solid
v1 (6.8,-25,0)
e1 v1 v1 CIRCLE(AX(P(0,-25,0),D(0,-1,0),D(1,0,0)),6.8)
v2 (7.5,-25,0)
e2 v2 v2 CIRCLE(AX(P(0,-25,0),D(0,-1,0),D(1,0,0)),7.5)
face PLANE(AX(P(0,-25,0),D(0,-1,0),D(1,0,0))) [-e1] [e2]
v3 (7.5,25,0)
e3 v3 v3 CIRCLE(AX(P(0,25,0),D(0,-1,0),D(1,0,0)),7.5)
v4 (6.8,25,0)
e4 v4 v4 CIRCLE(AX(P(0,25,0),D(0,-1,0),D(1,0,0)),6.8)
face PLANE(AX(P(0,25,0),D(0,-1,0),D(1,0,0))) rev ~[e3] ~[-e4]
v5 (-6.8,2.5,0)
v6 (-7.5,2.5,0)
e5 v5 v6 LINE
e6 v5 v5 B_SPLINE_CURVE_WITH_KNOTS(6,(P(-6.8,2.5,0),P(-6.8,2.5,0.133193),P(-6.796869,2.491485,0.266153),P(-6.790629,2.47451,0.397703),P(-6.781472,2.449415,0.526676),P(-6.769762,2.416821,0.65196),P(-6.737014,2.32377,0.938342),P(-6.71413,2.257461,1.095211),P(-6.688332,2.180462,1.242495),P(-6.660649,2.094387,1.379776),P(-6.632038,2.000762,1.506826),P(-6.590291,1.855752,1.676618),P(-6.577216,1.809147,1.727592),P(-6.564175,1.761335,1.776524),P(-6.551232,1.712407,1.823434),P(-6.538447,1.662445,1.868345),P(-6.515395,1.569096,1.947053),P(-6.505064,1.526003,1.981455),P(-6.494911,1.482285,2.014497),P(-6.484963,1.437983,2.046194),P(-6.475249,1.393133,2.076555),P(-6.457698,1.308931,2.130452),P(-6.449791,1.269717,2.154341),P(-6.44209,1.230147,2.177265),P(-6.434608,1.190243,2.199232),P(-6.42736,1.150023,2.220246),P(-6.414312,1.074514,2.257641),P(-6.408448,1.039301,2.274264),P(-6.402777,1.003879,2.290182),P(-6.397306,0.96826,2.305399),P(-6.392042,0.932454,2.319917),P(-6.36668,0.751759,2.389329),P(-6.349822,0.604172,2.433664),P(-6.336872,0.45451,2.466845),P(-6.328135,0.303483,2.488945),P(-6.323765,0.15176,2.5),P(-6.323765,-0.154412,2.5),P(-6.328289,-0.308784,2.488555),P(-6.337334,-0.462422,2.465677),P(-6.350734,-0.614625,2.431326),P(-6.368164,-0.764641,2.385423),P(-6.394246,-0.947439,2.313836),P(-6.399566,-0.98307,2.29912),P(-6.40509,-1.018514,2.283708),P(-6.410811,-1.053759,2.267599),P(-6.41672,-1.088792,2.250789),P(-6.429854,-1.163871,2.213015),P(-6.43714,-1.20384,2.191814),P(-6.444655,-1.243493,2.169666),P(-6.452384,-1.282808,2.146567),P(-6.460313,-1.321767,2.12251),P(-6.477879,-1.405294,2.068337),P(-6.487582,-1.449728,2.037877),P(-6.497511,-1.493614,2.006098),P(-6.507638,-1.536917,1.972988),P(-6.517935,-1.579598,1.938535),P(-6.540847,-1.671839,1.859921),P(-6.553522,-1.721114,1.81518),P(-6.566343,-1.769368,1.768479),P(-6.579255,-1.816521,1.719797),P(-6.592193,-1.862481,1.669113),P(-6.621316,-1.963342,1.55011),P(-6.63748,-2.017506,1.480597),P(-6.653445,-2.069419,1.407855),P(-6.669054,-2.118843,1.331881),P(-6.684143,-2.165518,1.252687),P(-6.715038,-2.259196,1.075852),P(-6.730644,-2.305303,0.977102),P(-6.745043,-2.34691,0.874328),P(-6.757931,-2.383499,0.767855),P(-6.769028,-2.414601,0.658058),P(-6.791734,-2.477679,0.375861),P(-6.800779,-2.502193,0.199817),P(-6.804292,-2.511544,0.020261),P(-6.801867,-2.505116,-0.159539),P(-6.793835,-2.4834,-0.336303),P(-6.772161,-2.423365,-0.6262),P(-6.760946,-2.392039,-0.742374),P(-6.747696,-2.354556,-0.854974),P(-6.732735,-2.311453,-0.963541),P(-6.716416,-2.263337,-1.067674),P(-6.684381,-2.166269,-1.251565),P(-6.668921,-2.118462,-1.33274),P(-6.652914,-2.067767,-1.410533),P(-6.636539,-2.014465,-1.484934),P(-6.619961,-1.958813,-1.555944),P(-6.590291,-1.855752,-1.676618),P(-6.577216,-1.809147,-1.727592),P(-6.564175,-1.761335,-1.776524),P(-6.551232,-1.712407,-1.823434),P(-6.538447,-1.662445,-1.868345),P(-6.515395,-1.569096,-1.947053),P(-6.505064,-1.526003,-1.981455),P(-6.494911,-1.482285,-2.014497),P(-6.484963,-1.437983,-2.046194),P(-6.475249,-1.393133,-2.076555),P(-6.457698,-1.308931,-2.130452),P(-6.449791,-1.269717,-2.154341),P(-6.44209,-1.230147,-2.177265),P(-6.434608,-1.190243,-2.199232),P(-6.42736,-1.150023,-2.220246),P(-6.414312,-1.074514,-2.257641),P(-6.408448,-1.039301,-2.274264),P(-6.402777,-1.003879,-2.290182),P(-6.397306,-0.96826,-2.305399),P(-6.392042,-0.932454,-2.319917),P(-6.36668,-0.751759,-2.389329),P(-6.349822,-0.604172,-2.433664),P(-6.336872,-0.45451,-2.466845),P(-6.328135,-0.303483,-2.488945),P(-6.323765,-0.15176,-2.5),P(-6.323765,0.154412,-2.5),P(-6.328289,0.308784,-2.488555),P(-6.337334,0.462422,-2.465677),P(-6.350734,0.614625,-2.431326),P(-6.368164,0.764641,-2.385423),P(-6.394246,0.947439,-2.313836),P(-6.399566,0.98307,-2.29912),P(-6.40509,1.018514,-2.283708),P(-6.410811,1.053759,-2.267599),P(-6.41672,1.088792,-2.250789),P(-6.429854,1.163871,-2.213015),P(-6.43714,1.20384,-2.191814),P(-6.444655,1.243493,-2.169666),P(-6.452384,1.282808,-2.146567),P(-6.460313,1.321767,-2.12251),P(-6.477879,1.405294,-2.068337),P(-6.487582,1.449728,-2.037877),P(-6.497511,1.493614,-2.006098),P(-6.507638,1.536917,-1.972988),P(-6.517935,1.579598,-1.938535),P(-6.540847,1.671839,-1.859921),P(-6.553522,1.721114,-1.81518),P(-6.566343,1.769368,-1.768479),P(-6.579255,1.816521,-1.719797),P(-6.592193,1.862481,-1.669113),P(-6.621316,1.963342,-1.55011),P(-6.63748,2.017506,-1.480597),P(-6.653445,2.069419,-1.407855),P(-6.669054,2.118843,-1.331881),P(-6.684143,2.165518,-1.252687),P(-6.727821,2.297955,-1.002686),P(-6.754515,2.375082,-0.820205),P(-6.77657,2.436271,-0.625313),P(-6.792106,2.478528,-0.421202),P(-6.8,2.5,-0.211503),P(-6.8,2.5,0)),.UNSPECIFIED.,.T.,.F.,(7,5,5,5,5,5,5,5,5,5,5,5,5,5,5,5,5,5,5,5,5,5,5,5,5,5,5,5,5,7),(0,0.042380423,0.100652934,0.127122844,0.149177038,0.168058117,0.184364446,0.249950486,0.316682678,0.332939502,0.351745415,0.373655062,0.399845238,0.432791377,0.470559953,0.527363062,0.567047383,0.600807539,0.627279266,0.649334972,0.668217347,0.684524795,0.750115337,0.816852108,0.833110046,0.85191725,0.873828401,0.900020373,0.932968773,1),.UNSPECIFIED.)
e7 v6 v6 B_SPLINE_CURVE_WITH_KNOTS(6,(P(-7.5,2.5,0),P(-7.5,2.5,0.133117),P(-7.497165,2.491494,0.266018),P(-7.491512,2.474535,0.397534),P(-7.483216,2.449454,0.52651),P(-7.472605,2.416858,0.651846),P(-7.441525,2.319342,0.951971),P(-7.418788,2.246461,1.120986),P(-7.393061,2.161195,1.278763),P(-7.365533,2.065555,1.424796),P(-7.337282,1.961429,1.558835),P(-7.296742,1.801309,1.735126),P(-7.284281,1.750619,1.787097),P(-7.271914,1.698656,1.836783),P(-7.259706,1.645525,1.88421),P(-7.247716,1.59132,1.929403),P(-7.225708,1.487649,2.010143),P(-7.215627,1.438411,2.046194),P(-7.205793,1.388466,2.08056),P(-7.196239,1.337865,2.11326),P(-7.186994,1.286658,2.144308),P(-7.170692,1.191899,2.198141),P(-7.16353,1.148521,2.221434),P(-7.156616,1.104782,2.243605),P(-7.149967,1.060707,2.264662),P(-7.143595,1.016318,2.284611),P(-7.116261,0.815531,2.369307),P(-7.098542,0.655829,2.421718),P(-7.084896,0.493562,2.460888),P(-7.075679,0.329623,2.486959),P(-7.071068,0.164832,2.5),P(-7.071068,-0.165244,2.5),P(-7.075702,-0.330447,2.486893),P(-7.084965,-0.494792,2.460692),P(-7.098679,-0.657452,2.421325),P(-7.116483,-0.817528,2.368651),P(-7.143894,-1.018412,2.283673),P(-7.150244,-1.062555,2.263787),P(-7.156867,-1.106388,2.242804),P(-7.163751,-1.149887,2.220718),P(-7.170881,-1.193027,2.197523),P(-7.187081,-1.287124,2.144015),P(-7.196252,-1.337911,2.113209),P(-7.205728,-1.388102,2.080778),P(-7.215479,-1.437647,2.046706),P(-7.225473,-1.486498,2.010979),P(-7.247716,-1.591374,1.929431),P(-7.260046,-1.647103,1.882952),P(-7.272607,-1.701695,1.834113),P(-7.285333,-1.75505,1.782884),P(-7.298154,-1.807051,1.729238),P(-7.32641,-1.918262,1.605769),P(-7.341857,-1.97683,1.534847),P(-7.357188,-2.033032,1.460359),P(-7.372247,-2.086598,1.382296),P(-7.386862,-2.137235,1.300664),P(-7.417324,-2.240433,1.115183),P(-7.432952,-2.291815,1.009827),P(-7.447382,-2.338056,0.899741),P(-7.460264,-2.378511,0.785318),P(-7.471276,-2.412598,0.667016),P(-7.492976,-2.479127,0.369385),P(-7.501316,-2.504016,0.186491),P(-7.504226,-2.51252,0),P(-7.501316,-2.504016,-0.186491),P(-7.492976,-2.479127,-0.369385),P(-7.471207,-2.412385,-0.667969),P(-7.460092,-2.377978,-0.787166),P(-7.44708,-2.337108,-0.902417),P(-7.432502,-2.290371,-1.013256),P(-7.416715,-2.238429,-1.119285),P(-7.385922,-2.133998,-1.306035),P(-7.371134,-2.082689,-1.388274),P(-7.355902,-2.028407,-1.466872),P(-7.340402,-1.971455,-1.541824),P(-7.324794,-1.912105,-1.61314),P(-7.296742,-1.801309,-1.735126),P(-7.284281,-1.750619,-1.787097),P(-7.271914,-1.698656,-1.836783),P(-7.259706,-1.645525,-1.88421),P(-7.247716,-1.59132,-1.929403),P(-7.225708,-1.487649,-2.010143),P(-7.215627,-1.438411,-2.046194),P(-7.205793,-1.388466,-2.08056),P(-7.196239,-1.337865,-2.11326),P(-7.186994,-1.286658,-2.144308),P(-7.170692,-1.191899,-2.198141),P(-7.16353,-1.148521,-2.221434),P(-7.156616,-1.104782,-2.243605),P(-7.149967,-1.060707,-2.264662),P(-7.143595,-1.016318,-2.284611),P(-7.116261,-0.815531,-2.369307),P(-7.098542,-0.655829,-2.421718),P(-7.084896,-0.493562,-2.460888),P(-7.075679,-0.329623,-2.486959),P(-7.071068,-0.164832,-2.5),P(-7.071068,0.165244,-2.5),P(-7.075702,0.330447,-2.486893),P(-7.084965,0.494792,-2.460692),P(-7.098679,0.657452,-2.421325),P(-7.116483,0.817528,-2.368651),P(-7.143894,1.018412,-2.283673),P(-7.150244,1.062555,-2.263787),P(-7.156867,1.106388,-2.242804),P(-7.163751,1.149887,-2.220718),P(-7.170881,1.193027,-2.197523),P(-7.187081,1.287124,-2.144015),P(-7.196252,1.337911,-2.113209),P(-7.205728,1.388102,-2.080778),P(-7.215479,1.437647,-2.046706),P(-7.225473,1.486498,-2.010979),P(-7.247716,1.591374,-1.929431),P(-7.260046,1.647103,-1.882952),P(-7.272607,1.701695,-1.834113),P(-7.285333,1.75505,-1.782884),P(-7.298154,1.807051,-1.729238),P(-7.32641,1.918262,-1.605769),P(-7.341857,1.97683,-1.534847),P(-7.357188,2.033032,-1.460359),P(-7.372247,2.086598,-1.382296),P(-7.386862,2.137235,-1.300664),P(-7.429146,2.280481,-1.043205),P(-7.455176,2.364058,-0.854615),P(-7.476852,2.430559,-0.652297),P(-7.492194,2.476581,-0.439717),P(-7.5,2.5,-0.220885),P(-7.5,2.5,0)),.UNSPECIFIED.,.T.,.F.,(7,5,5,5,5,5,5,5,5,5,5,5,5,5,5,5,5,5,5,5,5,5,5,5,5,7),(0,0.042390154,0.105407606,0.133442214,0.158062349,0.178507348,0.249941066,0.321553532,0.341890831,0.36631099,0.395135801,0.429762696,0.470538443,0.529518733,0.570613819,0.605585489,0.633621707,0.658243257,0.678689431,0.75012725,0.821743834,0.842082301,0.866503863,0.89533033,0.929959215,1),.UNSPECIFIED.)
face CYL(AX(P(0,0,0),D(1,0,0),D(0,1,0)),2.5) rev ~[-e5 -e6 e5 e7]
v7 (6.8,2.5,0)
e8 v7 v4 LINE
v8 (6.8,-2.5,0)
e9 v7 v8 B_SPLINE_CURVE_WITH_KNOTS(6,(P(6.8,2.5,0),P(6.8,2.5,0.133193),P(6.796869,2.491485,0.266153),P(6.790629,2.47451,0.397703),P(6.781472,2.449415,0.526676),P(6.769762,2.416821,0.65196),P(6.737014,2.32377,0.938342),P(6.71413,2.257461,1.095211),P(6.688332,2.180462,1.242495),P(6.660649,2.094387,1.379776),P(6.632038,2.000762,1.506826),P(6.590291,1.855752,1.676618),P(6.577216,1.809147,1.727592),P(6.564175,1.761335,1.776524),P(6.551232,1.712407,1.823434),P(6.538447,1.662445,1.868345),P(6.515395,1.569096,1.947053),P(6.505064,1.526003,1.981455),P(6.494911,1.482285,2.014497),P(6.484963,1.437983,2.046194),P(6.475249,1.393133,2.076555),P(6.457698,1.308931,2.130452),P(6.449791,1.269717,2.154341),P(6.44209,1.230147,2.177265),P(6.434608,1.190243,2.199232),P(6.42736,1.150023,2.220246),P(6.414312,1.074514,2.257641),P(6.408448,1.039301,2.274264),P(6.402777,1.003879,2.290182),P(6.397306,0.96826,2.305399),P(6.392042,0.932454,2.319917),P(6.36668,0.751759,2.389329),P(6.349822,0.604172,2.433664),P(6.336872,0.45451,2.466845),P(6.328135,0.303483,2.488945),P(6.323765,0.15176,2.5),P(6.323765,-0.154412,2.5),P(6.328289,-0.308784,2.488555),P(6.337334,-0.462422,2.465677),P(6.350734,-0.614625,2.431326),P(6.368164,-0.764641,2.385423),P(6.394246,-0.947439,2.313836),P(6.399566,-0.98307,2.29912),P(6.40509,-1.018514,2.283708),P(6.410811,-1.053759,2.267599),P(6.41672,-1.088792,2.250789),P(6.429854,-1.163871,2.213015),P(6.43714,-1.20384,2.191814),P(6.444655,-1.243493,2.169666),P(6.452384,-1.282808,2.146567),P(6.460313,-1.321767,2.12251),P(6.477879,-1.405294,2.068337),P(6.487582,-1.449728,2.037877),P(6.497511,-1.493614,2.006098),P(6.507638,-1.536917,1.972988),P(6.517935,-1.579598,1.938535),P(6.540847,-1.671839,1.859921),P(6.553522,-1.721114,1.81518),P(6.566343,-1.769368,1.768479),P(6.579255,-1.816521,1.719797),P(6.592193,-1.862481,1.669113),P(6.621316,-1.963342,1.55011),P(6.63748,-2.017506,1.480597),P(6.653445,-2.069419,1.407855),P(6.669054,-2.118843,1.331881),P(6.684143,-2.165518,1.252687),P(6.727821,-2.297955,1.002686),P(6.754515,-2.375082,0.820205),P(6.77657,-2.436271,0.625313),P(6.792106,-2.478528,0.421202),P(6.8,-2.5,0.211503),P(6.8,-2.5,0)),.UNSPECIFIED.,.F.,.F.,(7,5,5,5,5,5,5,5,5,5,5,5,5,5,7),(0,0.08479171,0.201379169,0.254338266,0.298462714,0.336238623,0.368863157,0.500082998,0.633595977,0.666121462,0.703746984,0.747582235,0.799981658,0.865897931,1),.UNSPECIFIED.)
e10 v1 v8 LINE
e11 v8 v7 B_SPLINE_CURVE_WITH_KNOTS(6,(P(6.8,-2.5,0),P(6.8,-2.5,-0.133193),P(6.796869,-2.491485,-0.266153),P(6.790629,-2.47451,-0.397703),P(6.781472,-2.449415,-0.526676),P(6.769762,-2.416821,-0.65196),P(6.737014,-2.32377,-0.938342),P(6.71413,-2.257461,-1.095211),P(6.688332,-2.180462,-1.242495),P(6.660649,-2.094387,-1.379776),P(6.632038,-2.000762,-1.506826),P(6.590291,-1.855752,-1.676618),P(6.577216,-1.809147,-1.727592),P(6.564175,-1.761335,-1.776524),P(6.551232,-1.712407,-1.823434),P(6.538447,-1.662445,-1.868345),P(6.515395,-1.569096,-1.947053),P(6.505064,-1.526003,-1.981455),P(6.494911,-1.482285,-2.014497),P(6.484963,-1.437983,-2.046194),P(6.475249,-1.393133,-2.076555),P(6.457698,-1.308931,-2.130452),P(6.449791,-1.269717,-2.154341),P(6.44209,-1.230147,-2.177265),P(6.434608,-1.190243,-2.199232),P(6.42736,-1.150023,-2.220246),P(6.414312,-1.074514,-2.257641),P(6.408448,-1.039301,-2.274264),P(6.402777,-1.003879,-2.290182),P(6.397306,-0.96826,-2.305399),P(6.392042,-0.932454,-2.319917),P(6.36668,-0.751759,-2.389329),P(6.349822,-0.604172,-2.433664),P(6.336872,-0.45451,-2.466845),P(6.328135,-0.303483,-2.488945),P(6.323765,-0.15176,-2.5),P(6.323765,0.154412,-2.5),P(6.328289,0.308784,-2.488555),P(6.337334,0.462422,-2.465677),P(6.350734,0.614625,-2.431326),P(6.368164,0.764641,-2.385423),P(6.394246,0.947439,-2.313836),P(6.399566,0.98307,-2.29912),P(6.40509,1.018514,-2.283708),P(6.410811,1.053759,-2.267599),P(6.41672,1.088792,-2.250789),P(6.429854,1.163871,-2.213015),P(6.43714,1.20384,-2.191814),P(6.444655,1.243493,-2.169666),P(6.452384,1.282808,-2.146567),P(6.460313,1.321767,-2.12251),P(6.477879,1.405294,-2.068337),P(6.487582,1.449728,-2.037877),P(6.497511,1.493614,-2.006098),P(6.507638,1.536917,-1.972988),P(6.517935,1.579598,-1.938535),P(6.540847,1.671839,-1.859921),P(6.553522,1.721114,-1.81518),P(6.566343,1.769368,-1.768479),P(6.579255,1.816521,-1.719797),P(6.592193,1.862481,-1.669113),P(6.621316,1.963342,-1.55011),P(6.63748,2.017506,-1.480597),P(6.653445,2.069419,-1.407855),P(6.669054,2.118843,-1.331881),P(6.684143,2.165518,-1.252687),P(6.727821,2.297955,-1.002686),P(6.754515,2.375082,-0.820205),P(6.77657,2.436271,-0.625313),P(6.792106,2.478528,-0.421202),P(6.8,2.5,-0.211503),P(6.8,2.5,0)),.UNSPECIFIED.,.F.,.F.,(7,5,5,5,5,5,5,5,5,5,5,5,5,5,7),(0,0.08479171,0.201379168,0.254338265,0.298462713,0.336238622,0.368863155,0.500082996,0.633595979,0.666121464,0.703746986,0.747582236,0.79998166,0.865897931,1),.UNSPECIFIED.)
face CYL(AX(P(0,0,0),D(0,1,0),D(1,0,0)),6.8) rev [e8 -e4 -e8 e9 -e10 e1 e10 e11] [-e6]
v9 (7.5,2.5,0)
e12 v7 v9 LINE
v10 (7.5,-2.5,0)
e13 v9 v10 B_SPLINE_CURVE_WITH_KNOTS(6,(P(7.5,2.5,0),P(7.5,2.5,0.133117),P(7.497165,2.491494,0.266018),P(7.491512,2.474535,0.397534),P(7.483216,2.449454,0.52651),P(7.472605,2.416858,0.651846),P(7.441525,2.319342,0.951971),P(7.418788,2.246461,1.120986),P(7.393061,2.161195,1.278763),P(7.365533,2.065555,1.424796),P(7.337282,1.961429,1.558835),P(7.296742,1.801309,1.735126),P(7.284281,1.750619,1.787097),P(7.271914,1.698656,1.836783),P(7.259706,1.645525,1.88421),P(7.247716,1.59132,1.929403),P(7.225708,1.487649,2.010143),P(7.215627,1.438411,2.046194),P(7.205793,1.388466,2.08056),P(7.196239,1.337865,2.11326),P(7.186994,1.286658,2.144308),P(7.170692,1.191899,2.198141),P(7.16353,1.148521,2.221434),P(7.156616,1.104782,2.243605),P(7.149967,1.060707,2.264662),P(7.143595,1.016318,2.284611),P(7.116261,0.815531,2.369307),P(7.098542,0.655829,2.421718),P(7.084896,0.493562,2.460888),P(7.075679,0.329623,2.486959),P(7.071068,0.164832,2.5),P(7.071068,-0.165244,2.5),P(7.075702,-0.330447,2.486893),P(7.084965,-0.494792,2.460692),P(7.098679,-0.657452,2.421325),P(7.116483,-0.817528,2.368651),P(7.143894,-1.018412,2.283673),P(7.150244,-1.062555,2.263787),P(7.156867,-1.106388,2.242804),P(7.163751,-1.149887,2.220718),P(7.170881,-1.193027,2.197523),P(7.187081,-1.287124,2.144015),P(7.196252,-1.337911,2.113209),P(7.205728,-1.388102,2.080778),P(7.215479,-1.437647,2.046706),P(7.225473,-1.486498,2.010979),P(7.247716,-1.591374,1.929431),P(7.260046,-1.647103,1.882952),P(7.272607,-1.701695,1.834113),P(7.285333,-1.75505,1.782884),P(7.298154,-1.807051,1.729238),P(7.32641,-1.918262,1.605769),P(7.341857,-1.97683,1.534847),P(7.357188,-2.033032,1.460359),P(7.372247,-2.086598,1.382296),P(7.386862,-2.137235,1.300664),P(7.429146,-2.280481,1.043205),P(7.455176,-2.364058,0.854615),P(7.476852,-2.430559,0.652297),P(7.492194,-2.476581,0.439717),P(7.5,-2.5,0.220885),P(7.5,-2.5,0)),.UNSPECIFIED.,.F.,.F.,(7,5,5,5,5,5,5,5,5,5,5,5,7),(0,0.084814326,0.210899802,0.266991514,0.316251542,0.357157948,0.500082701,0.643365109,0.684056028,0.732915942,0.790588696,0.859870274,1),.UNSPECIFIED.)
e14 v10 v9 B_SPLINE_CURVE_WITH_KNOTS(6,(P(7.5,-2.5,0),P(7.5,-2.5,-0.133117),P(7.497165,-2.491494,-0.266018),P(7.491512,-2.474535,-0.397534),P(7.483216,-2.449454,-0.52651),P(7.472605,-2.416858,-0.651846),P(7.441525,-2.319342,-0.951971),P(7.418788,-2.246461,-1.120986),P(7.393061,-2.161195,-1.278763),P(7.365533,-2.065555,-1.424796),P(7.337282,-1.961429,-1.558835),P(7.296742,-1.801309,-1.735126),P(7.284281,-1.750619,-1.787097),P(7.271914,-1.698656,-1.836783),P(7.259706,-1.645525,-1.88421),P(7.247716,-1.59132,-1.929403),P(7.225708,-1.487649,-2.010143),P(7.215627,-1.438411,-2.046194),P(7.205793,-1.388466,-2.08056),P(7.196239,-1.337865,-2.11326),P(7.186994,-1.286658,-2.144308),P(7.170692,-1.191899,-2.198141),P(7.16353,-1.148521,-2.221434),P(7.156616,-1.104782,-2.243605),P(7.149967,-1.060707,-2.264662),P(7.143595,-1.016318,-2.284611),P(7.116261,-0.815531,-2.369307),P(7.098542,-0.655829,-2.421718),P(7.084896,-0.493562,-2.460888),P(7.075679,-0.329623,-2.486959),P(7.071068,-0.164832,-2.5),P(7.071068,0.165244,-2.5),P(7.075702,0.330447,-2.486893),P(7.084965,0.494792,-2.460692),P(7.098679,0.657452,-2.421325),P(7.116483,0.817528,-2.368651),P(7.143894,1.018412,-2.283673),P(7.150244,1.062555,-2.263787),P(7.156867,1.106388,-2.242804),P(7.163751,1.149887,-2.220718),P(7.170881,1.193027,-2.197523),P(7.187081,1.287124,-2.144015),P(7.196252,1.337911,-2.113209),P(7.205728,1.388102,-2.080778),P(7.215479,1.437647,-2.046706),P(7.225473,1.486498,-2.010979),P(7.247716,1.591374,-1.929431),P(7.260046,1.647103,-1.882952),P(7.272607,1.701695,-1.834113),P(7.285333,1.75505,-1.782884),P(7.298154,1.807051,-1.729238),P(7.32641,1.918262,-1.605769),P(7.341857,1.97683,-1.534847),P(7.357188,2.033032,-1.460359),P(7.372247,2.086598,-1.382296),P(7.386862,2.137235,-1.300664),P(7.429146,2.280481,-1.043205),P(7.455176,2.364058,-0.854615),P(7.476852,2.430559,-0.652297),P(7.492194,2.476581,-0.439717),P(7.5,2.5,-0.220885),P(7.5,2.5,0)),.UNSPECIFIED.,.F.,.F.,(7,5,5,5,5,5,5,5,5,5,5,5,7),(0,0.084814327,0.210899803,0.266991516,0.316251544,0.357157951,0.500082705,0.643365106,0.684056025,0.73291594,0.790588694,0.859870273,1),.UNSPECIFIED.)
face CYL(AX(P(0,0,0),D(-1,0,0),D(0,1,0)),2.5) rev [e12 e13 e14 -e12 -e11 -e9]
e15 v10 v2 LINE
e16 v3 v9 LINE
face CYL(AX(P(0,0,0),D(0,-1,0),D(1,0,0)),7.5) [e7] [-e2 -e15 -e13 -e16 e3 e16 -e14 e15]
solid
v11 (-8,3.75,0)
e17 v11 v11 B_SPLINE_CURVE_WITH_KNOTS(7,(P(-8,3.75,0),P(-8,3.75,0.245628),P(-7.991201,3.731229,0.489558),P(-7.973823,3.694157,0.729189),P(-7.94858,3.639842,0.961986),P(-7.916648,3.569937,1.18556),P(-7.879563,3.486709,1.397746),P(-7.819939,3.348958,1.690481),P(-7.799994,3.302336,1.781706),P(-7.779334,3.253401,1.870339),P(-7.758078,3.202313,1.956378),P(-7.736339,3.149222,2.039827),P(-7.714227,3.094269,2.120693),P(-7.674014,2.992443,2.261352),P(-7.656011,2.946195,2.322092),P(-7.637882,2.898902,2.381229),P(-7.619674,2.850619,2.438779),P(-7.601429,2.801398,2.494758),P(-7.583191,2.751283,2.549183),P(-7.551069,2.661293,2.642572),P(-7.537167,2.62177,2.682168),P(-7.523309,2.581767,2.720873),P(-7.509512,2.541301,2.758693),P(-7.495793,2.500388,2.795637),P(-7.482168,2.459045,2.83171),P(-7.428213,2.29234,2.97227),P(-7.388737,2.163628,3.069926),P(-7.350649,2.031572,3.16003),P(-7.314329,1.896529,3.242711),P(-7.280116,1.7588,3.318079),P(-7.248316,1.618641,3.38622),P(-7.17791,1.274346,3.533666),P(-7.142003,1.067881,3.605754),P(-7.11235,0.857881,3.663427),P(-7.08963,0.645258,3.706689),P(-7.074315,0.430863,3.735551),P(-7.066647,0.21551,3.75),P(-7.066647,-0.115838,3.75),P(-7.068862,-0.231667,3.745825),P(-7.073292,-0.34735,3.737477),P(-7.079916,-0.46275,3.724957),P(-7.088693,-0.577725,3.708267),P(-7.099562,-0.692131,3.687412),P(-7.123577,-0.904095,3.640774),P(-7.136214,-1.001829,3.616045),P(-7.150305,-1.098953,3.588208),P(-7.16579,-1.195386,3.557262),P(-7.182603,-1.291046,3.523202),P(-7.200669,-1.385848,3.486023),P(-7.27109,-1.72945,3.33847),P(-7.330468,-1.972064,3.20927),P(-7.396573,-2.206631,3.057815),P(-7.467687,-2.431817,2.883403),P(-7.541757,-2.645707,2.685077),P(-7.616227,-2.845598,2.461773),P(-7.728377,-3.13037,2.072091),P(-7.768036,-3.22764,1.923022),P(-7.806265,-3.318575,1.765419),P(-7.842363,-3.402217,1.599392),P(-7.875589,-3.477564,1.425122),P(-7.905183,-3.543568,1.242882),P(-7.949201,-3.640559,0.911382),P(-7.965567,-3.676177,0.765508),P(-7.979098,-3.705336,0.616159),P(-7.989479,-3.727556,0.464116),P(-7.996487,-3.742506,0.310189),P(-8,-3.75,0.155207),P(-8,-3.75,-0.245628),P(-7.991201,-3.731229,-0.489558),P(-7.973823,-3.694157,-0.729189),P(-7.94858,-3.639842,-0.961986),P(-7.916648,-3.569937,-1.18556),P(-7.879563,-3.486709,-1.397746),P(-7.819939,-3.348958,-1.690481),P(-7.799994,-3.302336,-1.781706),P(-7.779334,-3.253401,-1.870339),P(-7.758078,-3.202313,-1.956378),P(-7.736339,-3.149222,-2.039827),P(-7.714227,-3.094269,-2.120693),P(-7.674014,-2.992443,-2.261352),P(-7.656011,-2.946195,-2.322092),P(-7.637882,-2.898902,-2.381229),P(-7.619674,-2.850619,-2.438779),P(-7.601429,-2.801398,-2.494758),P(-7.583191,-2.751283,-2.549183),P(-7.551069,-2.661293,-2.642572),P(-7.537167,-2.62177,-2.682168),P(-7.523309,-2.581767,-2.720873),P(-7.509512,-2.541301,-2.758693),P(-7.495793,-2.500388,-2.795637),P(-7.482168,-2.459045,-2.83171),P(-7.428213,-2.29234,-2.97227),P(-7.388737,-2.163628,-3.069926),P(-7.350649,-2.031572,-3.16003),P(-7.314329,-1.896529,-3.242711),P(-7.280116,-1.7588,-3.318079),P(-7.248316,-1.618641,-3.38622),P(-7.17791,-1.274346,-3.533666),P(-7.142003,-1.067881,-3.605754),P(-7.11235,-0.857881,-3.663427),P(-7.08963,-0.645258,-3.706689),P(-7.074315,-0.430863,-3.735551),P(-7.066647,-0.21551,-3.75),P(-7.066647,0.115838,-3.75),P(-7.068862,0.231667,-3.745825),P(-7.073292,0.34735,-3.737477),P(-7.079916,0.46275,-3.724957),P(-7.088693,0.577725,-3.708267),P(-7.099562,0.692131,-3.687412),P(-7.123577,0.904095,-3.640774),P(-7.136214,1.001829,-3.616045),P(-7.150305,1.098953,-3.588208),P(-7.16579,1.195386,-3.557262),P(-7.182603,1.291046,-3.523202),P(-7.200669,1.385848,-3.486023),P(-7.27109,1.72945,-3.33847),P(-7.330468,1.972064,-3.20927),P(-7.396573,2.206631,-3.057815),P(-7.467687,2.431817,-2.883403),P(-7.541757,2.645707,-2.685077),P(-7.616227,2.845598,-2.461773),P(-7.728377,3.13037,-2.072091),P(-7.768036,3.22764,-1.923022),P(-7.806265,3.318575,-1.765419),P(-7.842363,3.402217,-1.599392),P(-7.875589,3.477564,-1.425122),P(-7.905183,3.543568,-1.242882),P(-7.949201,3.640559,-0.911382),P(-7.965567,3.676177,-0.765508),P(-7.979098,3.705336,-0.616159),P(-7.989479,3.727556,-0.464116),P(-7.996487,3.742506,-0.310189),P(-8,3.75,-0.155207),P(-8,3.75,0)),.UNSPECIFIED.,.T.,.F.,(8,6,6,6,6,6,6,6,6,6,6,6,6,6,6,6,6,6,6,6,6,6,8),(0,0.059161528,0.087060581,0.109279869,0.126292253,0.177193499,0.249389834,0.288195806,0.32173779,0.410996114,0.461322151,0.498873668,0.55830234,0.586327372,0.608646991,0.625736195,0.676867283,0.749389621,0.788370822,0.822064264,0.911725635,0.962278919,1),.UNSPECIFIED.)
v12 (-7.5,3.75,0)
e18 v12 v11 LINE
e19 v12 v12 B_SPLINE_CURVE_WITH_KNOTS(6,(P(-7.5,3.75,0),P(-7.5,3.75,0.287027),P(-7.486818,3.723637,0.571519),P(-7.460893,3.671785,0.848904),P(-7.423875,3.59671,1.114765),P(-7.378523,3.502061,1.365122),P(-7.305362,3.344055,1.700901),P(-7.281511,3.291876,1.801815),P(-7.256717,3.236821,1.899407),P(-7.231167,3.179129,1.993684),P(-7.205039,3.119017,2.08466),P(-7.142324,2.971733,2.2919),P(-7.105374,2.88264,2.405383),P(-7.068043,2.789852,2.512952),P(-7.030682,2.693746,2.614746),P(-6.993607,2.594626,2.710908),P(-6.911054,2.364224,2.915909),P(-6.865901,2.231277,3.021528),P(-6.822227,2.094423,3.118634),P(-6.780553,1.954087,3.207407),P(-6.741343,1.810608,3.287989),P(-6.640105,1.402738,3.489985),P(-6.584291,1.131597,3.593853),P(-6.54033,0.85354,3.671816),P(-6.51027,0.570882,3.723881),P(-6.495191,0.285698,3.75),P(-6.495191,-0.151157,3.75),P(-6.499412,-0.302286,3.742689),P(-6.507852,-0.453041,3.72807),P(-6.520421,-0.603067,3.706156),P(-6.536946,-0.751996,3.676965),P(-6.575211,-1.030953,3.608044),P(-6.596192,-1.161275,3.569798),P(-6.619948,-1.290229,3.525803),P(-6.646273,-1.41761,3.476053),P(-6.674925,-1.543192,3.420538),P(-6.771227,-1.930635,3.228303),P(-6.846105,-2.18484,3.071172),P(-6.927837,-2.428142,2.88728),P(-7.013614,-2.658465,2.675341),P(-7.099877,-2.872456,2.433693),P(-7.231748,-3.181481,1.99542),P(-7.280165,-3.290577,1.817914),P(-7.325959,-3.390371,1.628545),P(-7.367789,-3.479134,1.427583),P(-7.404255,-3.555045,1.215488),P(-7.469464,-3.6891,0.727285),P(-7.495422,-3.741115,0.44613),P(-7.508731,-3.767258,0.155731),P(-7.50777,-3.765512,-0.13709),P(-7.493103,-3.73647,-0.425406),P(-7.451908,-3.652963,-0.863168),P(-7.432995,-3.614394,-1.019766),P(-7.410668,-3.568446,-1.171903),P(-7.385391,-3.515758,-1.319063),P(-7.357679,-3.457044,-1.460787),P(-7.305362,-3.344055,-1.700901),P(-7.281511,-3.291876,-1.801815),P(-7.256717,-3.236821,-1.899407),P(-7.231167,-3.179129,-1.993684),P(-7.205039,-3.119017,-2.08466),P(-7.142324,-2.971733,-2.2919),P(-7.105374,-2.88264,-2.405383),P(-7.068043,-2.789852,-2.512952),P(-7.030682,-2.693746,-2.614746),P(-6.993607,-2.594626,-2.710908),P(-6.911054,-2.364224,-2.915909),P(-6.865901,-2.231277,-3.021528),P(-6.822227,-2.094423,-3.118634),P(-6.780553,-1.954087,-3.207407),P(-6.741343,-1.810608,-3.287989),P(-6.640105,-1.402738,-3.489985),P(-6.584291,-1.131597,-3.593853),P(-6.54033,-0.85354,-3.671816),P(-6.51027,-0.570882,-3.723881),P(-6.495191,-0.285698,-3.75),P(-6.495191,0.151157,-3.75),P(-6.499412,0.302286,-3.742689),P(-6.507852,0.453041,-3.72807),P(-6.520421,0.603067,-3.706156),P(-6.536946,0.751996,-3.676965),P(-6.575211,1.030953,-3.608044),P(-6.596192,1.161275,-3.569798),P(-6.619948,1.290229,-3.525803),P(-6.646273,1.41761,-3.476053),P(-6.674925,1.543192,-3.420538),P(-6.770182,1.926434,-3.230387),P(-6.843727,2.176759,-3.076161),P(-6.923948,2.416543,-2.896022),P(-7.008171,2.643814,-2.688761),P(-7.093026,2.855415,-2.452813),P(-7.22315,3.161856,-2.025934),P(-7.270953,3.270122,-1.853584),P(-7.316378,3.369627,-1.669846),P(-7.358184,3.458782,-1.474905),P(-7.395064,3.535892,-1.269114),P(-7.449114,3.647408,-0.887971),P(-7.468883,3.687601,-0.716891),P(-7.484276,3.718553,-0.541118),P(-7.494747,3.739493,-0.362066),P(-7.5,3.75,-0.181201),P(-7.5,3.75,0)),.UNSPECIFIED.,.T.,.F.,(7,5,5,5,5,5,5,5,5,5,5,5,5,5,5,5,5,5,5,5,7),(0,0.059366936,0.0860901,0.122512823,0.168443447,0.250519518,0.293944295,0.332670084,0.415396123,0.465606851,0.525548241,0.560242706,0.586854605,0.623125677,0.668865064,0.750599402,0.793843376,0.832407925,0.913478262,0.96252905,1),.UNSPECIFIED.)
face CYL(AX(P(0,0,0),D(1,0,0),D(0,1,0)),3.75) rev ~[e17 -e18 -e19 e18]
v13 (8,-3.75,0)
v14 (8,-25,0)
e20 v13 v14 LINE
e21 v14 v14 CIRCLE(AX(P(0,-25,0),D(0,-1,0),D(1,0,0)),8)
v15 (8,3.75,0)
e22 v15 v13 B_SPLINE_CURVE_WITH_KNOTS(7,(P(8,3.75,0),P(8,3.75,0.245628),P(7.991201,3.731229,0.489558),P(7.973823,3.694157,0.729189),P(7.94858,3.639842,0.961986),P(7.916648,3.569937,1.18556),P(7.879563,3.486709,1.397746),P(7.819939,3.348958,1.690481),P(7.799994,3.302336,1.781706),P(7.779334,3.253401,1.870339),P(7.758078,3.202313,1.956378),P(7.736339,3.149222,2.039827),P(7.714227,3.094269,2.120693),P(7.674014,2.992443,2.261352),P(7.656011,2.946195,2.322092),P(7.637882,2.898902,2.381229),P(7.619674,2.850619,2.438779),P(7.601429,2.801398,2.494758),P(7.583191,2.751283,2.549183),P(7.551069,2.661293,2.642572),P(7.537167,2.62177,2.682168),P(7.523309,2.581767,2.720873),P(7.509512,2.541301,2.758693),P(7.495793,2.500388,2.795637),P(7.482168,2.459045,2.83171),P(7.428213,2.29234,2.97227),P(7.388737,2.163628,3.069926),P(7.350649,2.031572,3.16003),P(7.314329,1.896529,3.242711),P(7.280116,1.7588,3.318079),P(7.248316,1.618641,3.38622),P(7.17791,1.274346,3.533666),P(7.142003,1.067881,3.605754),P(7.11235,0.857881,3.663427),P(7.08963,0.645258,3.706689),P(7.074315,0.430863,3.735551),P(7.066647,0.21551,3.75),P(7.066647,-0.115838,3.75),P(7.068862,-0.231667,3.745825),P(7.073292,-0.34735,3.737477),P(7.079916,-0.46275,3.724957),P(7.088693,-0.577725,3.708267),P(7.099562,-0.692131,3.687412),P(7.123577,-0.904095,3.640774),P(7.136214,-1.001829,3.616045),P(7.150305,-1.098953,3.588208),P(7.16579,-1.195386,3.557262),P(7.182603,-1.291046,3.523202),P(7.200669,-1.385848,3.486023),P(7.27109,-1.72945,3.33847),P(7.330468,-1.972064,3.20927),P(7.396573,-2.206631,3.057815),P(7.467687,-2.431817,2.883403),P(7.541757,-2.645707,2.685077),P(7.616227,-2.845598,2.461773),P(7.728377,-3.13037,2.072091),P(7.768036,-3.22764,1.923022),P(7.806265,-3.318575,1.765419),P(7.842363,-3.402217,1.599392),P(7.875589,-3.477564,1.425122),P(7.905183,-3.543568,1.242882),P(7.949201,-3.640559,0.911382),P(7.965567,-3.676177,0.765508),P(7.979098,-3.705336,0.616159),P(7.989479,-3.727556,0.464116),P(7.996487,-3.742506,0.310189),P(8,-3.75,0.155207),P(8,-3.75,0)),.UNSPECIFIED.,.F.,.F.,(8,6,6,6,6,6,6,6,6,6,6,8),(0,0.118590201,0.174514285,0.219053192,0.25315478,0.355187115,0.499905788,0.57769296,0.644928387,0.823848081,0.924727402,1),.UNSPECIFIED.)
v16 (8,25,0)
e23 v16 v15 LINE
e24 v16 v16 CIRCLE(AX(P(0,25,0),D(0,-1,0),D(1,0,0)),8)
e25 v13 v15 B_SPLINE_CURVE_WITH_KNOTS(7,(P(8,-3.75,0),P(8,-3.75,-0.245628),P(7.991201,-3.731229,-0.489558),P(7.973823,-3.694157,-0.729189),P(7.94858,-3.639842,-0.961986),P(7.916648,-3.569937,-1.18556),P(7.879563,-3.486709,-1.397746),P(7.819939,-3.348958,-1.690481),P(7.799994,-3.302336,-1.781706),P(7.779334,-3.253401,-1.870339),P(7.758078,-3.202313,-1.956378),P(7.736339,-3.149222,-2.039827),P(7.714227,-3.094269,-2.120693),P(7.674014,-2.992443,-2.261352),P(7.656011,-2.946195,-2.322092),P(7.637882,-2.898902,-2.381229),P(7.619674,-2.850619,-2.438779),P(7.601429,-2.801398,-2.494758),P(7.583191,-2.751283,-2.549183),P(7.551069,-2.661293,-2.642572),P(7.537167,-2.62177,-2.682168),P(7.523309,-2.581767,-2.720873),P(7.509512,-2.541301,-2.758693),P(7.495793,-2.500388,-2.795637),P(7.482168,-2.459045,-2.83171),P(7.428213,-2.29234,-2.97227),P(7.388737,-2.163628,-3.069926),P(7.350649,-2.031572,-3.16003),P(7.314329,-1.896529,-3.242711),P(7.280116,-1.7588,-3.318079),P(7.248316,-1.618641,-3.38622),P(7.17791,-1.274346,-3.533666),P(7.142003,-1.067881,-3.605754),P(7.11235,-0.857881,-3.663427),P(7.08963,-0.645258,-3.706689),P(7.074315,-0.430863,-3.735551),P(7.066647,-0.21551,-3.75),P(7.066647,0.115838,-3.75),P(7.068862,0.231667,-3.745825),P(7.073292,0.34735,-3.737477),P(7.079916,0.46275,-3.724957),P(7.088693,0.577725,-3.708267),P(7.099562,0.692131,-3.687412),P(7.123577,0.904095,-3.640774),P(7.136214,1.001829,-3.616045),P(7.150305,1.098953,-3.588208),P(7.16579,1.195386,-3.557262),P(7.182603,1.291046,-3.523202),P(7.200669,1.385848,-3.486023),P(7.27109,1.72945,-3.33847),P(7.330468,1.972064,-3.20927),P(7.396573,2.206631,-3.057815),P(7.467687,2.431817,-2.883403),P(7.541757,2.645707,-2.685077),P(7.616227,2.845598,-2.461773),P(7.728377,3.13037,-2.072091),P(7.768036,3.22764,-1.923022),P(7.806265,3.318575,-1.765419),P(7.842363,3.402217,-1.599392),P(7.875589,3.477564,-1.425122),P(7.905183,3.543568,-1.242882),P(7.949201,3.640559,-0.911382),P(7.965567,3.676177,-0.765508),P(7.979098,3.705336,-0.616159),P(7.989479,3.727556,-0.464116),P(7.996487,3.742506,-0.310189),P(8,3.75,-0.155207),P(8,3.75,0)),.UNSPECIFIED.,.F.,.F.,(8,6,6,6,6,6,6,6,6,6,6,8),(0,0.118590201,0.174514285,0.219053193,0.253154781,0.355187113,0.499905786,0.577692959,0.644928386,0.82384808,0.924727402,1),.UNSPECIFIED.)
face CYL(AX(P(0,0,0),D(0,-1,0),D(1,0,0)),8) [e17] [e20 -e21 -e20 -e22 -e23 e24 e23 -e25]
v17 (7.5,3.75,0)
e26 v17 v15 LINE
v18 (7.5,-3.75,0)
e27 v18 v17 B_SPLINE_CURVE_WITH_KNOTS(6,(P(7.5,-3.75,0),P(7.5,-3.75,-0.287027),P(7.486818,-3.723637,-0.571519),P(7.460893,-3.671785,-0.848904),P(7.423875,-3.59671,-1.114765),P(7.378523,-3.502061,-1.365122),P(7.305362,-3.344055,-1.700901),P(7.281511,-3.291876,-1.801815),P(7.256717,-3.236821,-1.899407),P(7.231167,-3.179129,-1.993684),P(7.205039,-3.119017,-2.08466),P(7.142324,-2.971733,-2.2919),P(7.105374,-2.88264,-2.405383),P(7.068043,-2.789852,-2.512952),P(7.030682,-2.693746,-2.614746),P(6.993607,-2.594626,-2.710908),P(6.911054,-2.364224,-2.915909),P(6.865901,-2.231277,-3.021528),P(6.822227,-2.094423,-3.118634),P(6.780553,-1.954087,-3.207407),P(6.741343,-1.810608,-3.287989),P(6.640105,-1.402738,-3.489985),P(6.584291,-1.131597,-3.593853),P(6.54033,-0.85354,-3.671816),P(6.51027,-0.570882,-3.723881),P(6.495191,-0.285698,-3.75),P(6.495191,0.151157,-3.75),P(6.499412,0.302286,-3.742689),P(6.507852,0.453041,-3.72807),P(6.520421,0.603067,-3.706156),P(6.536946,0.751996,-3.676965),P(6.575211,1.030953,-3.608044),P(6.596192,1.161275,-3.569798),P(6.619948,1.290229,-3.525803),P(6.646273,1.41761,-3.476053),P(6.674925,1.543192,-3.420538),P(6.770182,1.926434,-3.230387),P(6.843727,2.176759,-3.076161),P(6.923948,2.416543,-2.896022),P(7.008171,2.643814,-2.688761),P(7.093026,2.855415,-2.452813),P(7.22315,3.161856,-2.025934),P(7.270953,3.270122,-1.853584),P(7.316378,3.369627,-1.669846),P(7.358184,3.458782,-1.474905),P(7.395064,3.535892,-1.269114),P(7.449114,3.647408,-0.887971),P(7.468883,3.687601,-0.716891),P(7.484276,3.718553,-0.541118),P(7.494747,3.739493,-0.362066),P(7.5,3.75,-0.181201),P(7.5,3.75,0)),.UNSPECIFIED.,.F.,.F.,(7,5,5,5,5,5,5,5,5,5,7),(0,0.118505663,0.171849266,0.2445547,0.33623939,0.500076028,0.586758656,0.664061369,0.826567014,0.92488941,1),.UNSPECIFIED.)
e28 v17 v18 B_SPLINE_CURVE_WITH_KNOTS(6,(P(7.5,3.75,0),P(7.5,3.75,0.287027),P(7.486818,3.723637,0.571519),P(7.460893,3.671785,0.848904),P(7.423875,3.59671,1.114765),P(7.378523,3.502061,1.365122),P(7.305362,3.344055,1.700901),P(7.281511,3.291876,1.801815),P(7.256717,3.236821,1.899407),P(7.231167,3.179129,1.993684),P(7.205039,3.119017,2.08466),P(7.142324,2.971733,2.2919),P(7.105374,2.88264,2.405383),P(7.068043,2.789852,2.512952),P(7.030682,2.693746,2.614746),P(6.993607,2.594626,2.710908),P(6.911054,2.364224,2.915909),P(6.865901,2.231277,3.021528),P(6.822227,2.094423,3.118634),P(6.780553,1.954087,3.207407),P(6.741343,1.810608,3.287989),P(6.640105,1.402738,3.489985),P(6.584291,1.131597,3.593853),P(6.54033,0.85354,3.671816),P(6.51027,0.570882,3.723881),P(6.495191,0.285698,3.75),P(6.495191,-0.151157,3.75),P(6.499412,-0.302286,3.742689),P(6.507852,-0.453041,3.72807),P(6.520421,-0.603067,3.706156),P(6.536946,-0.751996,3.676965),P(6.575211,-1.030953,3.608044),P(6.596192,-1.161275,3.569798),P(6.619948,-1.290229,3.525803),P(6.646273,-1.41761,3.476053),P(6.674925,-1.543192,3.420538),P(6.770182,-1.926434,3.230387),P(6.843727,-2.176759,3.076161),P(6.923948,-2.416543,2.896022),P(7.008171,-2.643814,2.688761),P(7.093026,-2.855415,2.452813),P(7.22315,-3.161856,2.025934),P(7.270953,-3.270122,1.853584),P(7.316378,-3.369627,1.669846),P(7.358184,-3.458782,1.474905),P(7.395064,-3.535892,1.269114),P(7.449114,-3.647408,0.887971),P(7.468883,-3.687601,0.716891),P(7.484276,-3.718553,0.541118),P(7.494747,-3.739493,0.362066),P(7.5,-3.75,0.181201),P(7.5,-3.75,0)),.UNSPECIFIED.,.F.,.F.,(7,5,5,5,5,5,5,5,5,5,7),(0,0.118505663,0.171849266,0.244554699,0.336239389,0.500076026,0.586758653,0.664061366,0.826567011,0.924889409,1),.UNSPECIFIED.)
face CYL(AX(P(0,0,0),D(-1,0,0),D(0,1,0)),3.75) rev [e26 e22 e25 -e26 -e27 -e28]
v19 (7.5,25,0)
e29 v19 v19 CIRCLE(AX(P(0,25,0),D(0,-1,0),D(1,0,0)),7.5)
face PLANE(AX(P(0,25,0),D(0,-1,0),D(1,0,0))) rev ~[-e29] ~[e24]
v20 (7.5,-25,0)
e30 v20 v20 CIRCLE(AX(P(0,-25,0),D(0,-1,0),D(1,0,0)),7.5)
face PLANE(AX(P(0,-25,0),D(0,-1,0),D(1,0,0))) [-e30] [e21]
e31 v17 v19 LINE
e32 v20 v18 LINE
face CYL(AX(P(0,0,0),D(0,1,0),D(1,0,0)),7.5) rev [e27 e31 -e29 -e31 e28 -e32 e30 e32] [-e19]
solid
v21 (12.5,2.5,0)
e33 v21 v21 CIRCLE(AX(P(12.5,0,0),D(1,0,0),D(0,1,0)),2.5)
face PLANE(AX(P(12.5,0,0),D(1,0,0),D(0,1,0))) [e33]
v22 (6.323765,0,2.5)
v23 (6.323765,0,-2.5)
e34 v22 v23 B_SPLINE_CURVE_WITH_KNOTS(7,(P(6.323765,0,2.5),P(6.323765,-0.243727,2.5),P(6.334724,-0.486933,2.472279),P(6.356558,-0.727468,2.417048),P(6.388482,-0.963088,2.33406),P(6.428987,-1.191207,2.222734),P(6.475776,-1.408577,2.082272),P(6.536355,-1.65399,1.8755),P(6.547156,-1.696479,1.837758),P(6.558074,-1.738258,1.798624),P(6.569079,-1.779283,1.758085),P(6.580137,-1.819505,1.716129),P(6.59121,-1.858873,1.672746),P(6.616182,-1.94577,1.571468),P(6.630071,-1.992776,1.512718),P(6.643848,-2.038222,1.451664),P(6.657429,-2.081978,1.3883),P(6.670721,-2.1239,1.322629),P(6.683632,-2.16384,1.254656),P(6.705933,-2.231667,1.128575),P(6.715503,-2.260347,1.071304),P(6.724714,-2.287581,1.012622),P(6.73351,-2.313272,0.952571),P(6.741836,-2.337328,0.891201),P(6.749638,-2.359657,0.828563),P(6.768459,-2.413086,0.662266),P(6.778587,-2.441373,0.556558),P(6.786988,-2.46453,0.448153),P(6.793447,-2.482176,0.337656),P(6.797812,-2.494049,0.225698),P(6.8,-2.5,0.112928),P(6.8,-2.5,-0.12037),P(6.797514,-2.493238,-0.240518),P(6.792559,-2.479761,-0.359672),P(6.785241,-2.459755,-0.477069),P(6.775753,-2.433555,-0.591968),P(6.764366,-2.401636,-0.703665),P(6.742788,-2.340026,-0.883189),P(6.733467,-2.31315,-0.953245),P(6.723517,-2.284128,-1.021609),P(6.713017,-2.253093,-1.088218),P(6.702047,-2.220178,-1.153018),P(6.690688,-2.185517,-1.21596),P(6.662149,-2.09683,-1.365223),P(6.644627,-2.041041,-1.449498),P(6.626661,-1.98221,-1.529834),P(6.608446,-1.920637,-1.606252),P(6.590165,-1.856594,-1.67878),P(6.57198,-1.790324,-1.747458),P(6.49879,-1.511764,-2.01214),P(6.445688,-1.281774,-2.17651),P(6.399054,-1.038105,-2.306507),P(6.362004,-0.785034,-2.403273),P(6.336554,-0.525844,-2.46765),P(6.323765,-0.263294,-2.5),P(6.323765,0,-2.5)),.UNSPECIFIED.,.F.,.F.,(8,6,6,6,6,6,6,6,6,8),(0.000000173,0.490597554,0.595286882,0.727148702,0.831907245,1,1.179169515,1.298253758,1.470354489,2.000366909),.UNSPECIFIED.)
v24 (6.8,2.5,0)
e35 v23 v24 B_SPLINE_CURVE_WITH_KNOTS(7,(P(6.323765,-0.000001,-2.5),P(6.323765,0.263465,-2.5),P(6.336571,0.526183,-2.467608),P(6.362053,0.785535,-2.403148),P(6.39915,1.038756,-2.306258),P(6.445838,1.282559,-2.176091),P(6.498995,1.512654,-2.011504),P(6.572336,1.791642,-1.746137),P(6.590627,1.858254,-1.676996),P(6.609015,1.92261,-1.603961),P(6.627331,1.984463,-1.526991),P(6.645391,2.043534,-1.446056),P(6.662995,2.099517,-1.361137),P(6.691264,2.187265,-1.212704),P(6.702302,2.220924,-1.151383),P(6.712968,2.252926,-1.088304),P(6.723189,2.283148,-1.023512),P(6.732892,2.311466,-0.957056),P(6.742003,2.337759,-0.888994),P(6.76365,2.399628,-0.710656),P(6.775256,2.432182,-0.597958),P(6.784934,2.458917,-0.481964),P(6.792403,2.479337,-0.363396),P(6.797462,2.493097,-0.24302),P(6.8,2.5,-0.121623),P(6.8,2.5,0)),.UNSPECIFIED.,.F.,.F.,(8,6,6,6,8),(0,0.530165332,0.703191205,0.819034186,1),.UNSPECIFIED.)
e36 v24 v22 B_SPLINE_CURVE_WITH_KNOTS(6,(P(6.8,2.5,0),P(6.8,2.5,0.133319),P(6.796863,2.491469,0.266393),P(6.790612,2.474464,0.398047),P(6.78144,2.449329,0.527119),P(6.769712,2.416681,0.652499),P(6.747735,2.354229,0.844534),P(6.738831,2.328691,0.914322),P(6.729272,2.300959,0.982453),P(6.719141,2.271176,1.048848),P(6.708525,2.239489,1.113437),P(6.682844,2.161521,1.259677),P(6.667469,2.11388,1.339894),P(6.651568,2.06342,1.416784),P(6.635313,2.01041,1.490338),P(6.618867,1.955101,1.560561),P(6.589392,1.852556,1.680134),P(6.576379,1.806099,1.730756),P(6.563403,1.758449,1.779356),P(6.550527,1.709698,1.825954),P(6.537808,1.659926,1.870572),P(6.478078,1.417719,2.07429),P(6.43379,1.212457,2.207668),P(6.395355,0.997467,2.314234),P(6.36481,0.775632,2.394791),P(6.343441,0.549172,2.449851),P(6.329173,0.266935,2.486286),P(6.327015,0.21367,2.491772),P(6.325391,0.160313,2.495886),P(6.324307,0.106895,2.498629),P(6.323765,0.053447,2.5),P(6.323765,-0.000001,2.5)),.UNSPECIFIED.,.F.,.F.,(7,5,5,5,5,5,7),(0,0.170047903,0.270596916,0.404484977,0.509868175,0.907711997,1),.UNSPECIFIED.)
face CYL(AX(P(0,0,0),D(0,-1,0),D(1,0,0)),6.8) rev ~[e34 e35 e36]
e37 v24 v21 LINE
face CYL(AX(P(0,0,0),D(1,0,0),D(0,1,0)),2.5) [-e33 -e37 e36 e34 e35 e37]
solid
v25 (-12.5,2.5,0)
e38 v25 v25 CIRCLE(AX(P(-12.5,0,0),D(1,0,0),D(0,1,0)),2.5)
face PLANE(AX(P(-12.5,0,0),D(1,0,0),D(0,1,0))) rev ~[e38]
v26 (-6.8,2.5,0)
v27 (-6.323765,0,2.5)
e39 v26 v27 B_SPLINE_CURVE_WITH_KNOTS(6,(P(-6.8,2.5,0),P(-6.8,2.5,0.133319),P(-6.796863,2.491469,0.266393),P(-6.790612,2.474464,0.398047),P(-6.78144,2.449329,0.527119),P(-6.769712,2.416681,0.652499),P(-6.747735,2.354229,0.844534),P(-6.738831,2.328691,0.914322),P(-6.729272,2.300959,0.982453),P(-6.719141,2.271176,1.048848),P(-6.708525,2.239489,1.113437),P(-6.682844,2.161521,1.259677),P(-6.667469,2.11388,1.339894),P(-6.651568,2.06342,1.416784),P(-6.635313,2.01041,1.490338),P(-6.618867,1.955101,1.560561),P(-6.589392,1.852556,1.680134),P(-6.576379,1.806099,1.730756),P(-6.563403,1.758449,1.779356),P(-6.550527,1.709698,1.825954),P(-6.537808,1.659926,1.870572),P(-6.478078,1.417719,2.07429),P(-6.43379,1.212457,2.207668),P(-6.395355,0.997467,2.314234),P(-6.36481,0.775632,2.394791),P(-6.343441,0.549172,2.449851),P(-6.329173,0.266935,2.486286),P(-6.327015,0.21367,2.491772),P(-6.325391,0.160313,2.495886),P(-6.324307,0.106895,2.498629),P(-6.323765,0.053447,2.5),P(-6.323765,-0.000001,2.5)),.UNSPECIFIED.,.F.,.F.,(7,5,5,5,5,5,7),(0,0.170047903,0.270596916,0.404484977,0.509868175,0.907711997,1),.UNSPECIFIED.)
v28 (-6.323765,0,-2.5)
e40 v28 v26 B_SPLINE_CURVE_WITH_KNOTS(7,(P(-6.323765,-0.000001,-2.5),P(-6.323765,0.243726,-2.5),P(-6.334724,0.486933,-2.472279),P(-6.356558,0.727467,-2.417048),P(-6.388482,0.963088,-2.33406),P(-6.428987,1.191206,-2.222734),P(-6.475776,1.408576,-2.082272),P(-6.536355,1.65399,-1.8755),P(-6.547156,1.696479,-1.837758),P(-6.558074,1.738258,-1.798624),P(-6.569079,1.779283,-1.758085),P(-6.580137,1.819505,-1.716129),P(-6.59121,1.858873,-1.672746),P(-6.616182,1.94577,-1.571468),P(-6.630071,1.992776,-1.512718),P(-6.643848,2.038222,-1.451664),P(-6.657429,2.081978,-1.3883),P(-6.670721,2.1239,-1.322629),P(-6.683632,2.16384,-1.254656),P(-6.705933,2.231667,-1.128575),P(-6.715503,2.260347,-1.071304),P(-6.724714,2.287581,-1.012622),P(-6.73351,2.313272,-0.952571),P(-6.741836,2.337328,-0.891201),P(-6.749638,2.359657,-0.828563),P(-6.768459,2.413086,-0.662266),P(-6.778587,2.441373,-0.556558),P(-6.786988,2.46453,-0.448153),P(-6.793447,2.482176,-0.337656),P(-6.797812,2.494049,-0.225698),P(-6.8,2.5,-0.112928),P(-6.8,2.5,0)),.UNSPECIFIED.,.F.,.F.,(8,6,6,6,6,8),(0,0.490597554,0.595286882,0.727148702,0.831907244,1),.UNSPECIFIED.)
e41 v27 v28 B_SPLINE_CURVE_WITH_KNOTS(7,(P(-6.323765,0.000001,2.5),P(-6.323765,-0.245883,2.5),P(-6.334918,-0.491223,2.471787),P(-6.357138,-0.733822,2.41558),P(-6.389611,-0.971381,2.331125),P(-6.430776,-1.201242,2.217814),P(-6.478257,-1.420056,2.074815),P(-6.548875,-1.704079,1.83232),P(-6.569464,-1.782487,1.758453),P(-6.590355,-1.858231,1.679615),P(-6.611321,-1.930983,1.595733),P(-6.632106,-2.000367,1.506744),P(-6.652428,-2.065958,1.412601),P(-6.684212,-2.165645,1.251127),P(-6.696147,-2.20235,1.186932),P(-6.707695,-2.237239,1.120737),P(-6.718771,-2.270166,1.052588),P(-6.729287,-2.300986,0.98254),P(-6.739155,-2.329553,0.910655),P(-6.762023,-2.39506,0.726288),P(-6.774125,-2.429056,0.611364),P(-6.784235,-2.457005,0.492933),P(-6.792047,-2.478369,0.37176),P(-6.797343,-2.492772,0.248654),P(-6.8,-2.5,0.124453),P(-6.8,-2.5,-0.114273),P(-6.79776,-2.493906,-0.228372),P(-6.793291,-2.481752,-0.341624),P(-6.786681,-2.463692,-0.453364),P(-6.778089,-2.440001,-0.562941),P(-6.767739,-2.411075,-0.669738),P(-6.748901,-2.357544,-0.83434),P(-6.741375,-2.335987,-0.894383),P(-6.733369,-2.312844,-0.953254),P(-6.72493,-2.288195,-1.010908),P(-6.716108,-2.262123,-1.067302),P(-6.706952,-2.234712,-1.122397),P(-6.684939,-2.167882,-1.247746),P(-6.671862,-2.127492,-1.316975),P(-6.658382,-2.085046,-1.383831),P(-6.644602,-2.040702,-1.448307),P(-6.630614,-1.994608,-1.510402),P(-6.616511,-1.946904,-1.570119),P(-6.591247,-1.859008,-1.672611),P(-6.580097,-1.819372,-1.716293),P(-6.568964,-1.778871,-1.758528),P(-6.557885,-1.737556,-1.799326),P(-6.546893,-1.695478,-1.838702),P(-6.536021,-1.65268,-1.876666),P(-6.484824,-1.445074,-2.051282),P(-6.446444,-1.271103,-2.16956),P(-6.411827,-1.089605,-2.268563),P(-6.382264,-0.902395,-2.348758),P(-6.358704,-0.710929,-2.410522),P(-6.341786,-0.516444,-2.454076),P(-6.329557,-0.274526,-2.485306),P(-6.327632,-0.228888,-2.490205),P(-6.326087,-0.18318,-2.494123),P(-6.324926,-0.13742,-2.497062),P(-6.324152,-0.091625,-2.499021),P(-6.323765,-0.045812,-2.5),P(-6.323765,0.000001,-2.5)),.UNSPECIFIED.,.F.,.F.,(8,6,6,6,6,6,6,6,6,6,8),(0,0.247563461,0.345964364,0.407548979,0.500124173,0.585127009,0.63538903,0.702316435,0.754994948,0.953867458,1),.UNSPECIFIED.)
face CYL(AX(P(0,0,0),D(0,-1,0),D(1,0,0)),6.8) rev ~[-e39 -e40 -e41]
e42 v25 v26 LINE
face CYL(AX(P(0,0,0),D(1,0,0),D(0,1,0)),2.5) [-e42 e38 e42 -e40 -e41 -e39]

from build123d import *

# Parameters (mm, degrees)
F0_R          = 7.5
F0_R_2        = 6.8
F1_DEPTH      = 25
F0_R_3        = 8
F2_DEPTH      = 25
F3_R          = 2.5
F4_DEPTH      = 8.001
F4_DEPTH_BACK = 8.001
F5_R          = 3.75
F6_DEPTH      = 8.0010001
F6_DEPTH_BACK = 8.0010001
F7_DEPTH      = 12.5
F8_DEPTH      = 25.0010001
F8_DEPTH_BACK = 25.0010001


with BuildPart() as f1:
    # F0 (on Front) → F1 (new body, symmetric)
    with BuildSketch(Plane.XZ):
        Circle(F0_R)
        Circle(F0_R_2, mode=Mode.SUBTRACT)
    extrude(amount=F1_DEPTH, both=True)


with BuildPart() as f2:
    # F0 (on Front) → F2 (new body, symmetric)
    with BuildSketch(Plane.XZ):
        Circle(F0_R_3)
        Circle(F0_R, mode=Mode.SUBTRACT)
    extrude(amount=F2_DEPTH, both=True)


with BuildPart() as f4_tool:
    # F3 (on Right) → F4 (new body, two sides)
    with BuildSketch(Plane.YZ) as f4_sk:
        Circle(F3_R)
    extrude(amount=-F4_DEPTH)
    extrude(f4_sk.sketch, amount=F4_DEPTH_BACK)


with BuildPart() as f1_1:
    add(f1.part)

    # F4: cut by f4_tool
    add(f4_tool.part, mode=Mode.SUBTRACT)


with BuildPart() as f2_1:
    add(f2.part)

    # F4: cut by f4_tool
    add(f4_tool.part, mode=Mode.SUBTRACT)

    # F5 (on Right) → F6 (cut, two sides)
    with BuildSketch(Plane.YZ) as f6_sk:
        Circle(F5_R)
    extrude(amount=-F6_DEPTH, mode=Mode.SUBTRACT)
    extrude(f6_sk.sketch, amount=F6_DEPTH_BACK, mode=Mode.SUBTRACT)


with BuildPart() as f7:
    # F3 (on Right) → F7 (new body, symmetric)
    with BuildSketch(Plane.YZ):
        Circle(F3_R)
    extrude(amount=F7_DEPTH, both=True)

    # F0 (on Front) → F8 (cut, two sides)
    with BuildSketch(Plane.XZ) as f8_sk:
        Circle(F0_R_2)
    extrude(amount=-F8_DEPTH, mode=Mode.SUBTRACT)
    extrude(f8_sk.sketch, amount=F8_DEPTH_BACK, mode=Mode.SUBTRACT)


solid = Compound([f1_1.part, f2_1.part, f7.part])
